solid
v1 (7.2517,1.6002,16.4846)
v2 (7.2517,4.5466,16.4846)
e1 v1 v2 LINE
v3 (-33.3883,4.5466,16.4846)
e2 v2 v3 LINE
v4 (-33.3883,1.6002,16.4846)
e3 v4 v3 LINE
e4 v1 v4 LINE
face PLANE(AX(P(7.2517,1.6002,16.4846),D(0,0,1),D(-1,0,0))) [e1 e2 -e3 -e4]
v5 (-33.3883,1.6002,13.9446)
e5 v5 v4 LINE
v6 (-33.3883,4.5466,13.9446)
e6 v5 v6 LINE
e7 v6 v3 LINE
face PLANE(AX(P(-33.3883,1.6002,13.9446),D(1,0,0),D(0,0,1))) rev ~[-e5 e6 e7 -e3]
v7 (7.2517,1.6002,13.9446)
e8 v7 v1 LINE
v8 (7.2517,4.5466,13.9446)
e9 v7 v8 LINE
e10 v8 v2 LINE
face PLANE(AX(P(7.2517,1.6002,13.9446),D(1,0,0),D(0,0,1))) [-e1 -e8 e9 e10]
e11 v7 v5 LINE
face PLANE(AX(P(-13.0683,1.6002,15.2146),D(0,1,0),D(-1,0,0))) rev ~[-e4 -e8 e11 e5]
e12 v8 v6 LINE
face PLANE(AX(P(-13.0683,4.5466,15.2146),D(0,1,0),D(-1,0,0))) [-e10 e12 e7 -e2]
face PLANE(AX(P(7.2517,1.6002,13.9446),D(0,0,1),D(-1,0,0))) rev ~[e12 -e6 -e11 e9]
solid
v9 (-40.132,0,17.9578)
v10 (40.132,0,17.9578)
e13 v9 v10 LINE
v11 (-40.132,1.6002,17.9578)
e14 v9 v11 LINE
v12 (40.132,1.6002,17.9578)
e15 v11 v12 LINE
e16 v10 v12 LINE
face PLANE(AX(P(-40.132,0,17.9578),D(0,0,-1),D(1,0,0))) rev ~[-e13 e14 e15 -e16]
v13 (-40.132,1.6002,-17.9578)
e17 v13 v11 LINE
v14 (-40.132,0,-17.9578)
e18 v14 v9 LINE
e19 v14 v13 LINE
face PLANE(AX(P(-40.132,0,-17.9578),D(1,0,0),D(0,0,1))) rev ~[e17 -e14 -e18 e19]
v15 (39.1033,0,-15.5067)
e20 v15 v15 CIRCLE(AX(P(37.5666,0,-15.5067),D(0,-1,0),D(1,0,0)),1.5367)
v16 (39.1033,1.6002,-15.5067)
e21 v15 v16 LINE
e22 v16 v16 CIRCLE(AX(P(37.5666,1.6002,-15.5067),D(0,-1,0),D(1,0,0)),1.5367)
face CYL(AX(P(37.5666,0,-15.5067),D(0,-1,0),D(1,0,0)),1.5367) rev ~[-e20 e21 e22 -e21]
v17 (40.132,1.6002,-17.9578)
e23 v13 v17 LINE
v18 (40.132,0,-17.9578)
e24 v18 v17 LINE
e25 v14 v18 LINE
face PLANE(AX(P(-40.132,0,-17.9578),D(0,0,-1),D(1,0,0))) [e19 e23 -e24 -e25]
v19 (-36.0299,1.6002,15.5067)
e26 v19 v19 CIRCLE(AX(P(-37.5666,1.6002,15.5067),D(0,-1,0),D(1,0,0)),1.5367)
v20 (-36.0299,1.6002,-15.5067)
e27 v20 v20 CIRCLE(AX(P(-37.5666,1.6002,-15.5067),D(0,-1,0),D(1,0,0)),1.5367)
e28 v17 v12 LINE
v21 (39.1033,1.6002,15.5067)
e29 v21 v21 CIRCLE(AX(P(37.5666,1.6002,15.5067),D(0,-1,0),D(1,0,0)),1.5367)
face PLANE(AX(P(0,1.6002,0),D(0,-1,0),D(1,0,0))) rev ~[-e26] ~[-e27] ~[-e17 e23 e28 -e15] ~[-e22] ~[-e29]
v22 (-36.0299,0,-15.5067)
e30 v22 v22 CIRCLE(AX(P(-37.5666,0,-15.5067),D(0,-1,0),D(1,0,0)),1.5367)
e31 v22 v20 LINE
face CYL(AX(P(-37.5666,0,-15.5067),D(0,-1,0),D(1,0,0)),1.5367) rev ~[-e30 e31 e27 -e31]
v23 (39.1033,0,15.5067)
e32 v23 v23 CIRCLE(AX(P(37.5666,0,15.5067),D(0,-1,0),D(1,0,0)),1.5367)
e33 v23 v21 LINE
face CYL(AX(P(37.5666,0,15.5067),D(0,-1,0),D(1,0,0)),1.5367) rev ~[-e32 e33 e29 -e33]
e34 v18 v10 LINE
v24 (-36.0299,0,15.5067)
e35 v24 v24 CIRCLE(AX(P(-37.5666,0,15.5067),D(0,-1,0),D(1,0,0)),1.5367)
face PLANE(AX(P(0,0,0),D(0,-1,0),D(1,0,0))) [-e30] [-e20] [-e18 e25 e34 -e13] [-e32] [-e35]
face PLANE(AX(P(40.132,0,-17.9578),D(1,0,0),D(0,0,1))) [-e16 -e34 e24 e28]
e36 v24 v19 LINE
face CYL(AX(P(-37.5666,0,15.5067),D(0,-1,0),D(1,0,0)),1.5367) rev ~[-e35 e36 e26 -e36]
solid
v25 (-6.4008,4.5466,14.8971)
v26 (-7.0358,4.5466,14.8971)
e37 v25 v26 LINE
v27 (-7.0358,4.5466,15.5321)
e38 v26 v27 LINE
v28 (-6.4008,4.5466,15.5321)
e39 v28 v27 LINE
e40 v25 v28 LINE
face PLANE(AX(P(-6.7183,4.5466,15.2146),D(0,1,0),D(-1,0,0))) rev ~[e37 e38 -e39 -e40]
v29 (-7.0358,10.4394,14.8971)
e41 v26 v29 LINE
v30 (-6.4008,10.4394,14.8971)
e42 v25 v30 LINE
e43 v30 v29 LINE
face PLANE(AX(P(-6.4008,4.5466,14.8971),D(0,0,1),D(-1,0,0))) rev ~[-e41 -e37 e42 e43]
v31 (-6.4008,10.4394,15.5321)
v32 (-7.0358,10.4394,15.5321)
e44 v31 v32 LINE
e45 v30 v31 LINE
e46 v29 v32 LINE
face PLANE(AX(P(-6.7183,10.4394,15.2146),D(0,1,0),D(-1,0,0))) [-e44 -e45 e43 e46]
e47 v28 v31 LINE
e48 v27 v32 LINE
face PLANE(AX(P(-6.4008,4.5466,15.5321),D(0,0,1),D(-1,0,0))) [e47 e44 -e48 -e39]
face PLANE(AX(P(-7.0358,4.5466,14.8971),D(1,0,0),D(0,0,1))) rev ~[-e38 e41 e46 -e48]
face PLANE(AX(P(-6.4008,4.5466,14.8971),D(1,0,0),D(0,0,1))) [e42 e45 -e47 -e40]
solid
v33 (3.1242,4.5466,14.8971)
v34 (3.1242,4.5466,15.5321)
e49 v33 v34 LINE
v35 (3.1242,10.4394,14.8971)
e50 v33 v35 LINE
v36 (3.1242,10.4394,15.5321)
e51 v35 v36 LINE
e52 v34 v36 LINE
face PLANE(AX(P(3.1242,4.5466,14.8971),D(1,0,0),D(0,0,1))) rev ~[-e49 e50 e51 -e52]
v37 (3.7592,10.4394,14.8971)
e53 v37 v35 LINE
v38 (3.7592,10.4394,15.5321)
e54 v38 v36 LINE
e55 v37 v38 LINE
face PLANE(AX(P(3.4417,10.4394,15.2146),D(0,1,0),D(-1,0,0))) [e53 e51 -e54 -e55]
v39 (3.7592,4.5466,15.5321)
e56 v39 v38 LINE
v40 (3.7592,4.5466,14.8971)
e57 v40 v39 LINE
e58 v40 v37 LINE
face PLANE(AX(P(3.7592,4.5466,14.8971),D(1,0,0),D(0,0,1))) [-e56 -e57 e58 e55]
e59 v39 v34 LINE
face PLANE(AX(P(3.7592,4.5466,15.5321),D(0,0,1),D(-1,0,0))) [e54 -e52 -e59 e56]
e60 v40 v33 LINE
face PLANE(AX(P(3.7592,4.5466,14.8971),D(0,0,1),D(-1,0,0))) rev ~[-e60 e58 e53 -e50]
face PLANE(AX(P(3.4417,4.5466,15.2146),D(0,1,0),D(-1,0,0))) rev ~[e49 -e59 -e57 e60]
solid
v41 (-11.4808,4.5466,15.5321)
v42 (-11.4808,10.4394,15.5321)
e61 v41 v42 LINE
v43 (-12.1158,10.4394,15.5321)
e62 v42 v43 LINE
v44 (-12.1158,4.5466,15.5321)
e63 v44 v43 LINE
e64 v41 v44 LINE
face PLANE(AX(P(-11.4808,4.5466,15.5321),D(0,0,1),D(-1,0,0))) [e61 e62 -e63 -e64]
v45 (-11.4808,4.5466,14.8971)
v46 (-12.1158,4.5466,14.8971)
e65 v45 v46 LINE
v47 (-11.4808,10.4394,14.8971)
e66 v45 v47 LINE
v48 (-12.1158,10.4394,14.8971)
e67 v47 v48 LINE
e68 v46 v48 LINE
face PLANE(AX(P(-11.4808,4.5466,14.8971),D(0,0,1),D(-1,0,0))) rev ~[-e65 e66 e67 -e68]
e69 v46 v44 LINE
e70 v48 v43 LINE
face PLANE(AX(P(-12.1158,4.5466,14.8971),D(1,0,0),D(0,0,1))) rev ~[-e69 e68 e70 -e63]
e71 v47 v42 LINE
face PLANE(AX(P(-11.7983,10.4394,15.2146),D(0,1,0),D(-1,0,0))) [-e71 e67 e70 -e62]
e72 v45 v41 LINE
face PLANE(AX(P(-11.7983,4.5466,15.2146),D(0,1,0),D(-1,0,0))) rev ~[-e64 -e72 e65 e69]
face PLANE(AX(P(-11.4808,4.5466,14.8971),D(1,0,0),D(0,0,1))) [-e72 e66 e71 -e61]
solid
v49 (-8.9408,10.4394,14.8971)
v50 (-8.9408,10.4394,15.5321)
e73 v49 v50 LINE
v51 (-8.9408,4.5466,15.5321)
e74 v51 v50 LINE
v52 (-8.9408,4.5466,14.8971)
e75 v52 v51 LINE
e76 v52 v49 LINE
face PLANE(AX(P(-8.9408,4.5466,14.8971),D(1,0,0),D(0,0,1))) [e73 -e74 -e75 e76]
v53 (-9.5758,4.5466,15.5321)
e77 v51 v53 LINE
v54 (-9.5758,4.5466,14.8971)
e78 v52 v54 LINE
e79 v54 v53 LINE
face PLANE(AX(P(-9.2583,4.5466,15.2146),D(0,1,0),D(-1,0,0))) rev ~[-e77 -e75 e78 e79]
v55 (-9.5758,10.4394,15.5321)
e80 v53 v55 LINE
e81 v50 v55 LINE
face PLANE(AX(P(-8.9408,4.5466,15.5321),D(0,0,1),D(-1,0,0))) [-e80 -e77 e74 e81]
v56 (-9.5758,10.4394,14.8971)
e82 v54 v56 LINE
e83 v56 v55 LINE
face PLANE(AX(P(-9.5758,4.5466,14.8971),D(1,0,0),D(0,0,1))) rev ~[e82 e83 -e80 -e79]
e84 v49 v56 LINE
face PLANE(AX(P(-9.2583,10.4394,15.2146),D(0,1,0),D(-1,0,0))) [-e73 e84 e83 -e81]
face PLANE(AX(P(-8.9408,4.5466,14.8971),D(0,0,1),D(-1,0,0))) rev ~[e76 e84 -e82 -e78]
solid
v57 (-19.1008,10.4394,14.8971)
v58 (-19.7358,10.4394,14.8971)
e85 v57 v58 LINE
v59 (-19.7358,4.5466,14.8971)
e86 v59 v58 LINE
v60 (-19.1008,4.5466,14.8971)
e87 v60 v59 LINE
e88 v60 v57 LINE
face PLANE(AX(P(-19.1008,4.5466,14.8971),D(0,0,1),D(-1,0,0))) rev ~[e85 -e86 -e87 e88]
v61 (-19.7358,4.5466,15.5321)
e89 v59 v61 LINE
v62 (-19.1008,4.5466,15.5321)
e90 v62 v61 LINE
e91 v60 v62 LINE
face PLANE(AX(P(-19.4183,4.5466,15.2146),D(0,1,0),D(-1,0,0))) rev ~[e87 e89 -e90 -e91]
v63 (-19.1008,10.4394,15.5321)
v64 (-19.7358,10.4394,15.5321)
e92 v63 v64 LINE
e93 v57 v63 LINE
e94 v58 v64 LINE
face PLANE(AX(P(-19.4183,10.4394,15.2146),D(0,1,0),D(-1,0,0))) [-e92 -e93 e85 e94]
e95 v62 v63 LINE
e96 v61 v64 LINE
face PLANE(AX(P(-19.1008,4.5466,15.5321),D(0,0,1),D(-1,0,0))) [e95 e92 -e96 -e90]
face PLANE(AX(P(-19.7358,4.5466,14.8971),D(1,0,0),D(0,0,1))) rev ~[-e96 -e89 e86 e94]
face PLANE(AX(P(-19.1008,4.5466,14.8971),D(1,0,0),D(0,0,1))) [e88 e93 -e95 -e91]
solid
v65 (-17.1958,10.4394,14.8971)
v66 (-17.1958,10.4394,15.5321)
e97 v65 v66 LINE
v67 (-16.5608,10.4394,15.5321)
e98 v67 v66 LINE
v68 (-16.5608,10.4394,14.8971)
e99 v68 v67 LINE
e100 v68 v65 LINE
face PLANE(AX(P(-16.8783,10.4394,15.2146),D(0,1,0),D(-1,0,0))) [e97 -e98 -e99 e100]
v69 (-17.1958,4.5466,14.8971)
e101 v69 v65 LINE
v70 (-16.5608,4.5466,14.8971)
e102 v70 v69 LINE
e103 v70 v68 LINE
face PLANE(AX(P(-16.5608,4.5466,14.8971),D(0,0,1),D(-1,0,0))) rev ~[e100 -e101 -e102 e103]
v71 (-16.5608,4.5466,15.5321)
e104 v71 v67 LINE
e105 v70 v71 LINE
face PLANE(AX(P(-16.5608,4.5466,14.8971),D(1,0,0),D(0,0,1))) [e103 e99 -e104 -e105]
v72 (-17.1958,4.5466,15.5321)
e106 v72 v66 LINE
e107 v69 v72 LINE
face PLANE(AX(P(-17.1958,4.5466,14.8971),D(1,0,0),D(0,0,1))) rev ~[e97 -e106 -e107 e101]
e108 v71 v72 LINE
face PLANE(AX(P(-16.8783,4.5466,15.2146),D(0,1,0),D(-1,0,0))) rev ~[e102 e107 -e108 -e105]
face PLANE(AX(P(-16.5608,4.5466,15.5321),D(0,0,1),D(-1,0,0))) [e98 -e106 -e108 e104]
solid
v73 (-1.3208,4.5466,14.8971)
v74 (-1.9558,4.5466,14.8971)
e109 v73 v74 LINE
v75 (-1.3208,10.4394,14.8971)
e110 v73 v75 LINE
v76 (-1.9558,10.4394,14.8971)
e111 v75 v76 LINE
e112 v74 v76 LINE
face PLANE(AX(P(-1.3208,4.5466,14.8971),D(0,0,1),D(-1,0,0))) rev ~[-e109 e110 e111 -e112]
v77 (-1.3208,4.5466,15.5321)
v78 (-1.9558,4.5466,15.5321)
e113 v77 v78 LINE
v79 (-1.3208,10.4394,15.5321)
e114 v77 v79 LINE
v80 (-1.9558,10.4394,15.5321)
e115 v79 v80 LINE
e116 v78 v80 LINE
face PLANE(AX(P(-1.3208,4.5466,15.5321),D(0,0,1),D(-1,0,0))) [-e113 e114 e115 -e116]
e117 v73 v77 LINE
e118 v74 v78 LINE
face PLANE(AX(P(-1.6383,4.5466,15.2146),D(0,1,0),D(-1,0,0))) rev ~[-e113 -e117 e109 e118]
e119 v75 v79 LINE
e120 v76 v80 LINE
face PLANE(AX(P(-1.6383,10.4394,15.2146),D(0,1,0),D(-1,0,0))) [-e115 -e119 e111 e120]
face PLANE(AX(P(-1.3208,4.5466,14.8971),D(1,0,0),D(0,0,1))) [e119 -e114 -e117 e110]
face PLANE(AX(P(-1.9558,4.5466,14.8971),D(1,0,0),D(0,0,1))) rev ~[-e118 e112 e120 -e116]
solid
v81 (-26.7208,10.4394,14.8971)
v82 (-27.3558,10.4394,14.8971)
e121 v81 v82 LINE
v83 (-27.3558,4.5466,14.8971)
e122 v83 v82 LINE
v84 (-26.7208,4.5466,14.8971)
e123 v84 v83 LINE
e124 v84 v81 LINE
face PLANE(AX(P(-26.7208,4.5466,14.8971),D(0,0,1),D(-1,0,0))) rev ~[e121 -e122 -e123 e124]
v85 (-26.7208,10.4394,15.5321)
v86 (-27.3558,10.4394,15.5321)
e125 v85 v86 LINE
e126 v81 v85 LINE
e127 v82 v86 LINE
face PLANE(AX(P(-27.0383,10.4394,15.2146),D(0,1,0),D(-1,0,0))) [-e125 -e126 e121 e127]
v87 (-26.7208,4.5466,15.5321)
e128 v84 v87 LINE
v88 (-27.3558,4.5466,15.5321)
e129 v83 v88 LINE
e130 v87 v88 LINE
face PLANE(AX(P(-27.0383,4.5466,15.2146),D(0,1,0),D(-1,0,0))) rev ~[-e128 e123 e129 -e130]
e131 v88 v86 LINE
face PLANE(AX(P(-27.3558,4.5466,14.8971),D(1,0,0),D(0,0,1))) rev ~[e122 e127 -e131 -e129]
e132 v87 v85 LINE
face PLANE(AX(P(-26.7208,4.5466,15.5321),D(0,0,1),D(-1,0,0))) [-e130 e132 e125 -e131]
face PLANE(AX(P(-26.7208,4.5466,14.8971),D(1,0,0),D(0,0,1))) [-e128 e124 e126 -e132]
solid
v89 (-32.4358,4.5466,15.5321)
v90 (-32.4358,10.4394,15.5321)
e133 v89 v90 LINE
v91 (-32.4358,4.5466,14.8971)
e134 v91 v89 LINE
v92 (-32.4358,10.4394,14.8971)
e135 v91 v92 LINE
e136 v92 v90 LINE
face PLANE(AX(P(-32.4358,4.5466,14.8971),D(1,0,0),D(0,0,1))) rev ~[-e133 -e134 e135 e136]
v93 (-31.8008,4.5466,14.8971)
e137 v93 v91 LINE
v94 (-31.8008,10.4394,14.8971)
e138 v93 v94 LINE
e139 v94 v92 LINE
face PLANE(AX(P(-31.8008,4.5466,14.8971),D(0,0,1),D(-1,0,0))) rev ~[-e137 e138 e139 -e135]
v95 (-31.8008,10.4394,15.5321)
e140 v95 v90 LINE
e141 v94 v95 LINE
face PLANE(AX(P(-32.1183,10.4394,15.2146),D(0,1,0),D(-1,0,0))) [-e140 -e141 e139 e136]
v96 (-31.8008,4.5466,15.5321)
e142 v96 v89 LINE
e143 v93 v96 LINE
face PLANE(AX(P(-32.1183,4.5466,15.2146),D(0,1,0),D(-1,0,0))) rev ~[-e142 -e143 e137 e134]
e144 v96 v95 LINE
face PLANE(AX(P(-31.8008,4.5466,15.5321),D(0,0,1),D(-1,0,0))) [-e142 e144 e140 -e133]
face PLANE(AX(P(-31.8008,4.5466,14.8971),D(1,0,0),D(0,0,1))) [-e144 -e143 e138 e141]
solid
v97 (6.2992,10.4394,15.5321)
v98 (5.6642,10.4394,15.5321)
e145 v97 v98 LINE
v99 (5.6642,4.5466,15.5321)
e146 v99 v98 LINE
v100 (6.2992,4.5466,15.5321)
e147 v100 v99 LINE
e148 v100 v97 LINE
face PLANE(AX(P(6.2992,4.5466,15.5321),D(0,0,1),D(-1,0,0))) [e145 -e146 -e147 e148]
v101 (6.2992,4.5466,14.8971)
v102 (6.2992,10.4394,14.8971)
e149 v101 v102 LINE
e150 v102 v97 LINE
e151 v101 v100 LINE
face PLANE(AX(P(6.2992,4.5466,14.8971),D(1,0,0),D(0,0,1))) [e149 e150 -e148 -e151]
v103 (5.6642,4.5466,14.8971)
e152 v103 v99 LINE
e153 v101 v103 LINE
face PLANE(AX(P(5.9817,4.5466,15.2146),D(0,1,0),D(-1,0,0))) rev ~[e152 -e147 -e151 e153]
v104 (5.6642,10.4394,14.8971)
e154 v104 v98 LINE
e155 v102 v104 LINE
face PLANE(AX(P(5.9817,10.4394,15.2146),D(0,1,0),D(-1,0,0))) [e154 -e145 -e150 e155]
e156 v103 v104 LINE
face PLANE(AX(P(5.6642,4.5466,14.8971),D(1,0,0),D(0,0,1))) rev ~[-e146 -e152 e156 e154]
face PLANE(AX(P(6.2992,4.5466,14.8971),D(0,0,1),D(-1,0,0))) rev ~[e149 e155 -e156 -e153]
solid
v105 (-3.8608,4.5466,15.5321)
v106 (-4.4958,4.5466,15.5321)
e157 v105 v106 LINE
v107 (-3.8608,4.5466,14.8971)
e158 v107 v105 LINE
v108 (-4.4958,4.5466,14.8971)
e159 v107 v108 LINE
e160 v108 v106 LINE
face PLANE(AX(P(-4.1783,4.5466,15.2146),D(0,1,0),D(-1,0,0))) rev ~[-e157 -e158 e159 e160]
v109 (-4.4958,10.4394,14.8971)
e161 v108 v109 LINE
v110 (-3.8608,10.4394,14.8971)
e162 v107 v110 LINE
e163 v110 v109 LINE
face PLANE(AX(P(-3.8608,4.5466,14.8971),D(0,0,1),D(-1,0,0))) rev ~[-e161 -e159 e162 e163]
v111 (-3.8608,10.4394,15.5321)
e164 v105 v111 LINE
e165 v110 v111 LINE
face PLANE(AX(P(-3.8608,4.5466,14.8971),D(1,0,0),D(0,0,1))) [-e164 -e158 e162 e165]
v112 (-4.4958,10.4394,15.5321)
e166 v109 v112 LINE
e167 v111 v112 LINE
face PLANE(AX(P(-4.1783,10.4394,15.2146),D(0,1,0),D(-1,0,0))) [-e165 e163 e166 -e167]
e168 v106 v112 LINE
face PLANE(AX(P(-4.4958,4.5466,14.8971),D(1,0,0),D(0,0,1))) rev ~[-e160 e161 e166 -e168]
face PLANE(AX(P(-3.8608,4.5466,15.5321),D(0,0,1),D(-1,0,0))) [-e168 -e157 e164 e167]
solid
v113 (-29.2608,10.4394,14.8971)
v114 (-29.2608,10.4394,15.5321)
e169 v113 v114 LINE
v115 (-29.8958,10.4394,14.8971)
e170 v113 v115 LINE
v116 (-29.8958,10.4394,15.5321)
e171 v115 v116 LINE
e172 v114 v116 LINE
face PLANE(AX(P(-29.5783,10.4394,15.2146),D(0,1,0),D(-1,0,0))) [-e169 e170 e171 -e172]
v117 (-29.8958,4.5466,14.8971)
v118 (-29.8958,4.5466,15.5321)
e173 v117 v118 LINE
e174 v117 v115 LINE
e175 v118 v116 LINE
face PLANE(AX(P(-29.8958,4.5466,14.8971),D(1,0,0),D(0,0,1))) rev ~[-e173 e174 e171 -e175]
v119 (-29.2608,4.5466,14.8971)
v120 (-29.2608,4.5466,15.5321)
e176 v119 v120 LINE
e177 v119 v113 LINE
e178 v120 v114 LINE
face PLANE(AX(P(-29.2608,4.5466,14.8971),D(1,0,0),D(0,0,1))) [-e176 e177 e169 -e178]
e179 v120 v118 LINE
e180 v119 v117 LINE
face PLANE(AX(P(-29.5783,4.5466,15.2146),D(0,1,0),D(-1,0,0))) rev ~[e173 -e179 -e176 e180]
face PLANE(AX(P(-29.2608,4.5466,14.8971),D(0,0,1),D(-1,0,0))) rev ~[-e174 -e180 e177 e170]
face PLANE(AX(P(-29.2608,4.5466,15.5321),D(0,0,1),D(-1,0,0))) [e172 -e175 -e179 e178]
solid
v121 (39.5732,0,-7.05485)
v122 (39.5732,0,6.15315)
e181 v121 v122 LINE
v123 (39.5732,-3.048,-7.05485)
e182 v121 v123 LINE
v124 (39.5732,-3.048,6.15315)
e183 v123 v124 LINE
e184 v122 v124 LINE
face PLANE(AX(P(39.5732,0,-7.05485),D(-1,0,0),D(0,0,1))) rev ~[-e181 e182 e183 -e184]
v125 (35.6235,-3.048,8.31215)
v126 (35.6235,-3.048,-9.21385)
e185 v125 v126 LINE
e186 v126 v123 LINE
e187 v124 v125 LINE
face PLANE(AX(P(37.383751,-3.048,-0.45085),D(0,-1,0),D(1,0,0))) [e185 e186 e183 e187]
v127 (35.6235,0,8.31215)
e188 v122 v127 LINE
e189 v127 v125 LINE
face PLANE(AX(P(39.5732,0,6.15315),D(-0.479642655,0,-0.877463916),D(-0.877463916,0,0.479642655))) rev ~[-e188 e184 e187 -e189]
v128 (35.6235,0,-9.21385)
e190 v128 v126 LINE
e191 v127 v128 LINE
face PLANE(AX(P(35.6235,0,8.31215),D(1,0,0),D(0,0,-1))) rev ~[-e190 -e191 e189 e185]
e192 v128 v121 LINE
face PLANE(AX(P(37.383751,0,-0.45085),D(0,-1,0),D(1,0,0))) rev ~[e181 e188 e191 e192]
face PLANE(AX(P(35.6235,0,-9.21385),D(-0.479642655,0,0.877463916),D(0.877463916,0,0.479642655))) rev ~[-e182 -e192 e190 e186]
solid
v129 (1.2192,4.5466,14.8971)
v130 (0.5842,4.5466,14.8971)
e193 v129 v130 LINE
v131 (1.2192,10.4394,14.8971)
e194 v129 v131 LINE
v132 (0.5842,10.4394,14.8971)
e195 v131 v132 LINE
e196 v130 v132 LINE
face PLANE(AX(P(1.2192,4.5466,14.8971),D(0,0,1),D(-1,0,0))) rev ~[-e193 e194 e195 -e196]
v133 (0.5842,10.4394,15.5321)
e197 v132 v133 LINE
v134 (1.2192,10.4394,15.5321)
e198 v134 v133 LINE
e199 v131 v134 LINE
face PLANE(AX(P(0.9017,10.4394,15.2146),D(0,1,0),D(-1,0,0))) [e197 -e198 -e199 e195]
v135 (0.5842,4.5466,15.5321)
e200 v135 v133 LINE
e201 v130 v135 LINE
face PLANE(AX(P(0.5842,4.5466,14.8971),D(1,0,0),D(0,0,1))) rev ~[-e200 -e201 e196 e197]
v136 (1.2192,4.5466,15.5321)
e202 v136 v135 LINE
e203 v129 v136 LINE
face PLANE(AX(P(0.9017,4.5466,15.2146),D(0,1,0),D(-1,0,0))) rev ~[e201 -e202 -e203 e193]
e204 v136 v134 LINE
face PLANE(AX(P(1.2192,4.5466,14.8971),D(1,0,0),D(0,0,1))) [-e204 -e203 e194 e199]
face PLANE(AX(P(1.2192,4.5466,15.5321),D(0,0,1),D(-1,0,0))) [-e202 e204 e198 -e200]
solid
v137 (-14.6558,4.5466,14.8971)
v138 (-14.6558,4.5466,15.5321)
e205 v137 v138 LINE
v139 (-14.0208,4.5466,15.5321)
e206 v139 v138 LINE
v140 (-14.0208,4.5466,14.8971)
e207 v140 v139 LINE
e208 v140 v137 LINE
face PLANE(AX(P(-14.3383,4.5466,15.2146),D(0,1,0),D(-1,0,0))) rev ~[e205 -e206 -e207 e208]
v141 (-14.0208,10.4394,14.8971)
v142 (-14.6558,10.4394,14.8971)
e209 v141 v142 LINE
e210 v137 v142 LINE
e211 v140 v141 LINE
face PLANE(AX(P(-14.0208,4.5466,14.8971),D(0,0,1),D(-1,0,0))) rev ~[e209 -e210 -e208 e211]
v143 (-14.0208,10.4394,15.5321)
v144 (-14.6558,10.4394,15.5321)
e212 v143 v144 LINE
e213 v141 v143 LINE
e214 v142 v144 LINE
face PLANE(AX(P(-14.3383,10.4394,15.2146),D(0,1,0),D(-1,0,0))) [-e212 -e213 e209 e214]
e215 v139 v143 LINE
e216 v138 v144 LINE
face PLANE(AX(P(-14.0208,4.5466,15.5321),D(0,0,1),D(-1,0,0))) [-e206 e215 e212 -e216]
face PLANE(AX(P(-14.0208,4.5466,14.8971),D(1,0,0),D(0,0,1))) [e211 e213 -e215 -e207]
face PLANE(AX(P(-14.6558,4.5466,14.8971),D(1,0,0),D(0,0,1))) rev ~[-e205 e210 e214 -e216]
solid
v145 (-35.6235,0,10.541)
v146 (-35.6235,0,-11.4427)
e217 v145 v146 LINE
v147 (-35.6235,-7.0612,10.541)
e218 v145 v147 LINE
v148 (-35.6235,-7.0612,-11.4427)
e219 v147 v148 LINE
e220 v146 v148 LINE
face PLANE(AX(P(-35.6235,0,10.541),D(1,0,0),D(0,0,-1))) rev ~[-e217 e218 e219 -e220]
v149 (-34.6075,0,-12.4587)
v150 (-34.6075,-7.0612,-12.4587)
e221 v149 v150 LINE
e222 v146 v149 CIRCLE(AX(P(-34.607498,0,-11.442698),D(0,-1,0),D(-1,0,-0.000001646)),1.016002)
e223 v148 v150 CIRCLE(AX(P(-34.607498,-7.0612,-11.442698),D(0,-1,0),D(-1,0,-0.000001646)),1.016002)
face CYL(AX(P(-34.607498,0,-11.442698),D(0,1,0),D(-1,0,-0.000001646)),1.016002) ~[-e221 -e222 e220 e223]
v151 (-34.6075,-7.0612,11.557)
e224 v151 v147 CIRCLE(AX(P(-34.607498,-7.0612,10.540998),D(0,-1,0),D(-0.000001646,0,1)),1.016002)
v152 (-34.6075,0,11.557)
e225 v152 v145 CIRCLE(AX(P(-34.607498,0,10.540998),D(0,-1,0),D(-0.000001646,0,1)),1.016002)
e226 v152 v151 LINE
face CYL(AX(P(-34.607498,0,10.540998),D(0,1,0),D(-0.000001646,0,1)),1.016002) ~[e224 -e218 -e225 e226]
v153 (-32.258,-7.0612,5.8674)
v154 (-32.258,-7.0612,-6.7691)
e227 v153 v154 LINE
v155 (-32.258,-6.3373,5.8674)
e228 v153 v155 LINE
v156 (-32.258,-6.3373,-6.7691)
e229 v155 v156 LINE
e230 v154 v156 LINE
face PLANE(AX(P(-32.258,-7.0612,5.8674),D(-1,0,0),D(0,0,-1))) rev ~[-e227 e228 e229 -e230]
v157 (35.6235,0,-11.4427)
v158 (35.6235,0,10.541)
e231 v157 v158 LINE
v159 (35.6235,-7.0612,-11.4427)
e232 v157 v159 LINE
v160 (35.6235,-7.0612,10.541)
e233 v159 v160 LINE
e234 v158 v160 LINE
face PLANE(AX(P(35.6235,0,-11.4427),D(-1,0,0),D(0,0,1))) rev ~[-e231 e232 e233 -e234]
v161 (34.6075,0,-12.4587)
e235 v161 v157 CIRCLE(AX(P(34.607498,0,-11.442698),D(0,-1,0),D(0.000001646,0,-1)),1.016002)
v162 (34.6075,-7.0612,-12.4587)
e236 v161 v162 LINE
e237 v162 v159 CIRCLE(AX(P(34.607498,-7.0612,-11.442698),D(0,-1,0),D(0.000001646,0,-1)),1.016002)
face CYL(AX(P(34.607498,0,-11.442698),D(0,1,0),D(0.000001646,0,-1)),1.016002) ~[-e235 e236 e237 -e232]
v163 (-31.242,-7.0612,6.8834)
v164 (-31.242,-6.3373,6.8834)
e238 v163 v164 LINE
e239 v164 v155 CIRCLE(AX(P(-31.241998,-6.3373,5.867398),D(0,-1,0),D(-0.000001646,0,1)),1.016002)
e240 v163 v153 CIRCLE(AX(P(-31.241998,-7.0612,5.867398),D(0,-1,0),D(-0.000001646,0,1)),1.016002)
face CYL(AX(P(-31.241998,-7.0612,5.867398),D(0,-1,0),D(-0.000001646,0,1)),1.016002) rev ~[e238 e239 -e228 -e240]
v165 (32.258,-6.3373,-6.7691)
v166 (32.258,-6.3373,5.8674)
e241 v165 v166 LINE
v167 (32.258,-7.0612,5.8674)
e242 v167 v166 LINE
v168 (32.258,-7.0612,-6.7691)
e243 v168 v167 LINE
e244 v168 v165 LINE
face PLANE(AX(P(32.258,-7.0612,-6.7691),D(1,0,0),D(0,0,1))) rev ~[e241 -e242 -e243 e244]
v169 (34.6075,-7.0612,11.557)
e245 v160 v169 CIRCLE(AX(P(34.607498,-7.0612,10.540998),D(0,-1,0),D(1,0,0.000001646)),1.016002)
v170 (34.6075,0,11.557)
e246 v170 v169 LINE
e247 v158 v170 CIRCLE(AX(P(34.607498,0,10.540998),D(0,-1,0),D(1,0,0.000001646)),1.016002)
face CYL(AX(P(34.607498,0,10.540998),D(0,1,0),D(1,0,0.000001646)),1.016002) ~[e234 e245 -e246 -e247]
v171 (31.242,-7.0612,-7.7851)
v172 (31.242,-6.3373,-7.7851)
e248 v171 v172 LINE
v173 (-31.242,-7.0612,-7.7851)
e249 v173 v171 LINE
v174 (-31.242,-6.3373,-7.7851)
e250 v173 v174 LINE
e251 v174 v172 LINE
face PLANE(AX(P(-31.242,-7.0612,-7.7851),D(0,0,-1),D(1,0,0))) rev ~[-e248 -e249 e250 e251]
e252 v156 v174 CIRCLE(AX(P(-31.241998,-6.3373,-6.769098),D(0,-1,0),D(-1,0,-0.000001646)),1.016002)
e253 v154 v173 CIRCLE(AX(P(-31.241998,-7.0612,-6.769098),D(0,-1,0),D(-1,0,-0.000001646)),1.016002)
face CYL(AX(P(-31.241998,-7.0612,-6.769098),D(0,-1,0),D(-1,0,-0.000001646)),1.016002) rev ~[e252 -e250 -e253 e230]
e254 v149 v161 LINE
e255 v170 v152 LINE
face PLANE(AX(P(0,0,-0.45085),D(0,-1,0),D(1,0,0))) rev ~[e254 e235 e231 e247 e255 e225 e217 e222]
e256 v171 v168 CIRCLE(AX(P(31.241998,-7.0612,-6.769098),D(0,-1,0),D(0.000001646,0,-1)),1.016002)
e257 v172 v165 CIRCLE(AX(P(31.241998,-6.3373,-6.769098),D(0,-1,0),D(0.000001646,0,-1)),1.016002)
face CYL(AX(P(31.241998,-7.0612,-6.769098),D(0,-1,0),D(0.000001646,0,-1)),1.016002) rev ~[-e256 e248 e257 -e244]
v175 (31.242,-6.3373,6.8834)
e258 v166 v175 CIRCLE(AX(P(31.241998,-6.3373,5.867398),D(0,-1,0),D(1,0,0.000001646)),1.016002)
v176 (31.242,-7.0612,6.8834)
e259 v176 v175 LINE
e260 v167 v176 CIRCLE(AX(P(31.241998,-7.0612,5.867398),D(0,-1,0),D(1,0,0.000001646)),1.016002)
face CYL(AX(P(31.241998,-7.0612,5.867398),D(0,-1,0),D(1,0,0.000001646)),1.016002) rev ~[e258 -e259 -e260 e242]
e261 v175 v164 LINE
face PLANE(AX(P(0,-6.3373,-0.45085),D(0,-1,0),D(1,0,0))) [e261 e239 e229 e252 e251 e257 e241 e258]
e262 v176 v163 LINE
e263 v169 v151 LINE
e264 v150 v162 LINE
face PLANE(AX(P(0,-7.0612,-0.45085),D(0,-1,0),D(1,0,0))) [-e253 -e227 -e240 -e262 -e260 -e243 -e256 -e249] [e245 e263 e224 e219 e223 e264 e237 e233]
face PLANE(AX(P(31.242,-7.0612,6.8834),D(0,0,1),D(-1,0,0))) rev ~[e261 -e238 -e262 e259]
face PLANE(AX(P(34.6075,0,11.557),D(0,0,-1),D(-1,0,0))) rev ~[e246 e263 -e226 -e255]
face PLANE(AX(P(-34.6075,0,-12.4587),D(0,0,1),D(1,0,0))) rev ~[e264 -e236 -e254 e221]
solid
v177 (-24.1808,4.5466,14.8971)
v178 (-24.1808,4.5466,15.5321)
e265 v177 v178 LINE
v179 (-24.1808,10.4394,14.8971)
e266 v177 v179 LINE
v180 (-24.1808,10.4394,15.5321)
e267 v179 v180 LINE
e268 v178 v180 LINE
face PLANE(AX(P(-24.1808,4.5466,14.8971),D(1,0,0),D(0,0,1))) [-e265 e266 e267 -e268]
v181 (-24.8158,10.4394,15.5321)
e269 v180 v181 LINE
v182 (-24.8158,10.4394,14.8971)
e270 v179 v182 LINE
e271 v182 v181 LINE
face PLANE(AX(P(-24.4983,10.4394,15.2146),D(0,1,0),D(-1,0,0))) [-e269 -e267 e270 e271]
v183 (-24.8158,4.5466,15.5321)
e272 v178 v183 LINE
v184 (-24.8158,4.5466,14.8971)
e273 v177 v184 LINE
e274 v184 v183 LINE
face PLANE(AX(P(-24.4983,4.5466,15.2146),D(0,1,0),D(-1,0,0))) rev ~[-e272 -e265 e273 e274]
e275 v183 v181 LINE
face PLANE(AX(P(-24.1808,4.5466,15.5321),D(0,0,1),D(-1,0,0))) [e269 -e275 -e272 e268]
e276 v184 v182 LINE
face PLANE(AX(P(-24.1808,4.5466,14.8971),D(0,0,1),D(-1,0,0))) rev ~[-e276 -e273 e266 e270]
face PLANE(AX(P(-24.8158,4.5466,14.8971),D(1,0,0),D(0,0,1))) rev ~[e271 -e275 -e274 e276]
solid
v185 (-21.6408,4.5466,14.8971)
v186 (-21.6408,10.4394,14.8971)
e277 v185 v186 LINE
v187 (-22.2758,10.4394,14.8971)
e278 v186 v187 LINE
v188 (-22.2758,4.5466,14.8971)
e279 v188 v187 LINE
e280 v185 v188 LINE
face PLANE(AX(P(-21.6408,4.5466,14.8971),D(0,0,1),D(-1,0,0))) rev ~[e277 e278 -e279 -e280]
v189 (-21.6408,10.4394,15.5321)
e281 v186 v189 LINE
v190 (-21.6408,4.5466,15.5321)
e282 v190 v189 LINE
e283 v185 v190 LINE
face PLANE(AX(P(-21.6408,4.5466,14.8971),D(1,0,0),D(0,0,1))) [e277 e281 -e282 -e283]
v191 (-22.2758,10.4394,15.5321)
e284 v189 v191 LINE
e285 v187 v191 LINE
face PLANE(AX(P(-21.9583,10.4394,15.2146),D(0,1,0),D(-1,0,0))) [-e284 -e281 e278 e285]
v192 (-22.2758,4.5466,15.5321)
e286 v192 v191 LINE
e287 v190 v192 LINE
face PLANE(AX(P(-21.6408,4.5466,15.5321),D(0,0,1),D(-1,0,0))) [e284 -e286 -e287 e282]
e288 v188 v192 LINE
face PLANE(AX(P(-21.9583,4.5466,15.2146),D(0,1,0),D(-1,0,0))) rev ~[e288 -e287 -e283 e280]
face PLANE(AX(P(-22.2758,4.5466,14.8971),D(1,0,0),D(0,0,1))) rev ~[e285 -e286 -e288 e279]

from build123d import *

# Parameters (mm, degrees)
F0_W      = 80.264
F0_H      = 35.9156
F0_R      = 1.5367
F1_DEPTH  = 1.6002
F3_DEPTH  = 7.0612
F5_DEPTH  = 0.7239
F7_DEPTH  = 3.048
F8_W      = 40.64
F8_H      = 2.54
F9_DEPTH  = 2.9464
F10_W     = 0.635
F10_H     = 0.635
F11_DEPTH = 5.8928


with BuildPart() as f1:
    # F0 (on Front) → F1 (new body)
    with BuildSketch(Plane.XZ):
        Rectangle(F0_W, F0_H)
        with Locations((-37.5666, -15.5067)):
            Circle(F0_R, mode=Mode.SUBTRACT)
        with Locations((37.5666, -15.5067)):
            Circle(F0_R, mode=Mode.SUBTRACT)
        with Locations((-37.5666, 15.5067)):
            Circle(F0_R, mode=Mode.SUBTRACT)
        with Locations((37.5666, 15.5067)):
            Circle(F0_R, mode=Mode.SUBTRACT)
    extrude(amount=-F1_DEPTH)


with BuildPart() as f3:
    # F2 (on face) → F3 (new body)
    with BuildSketch(Plane.XZ):
        with BuildLine():
            ThreePointArc((-35.6235, -11.4427), (-35.32592, -12.16112), (-34.6075, -12.4587))
            Line((-34.6075, -12.4587), (34.6075, -12.4587))
            ThreePointArc((34.6075, -12.4587), (35.32592, -12.16112), (35.6235, -11.4427))
            Line((35.6235, -11.4427), (35.6235, 10.541))
            ThreePointArc((35.6235, 10.541), (35.32592, 11.25942), (34.6075, 11.557))
            Line((34.6075, 11.557), (-34.6075, 11.557))
            ThreePointArc((-34.6075, 11.557), (-35.32592, 11.25942), (-35.6235, 10.541))
            Line((-35.6235, 10.541), (-35.6235, -11.4427))
        make_face()
    extrude(amount=F3_DEPTH)

    # F4 (on face) → F5 (cut)
    with BuildSketch(Plane.XZ.offset(7.0612)):
        with BuildLine():
            ThreePointArc((32.258, 5.8674), (31.96042, 6.58582), (31.242, 6.8834))
            Line((31.242, 6.8834), (-31.242, 6.8834))
            ThreePointArc((-31.242, 6.8834), (-31.96042, 6.58582), (-32.258, 5.8674))
            Line((-32.258, 5.8674), (-32.258, -6.7691))
            ThreePointArc((-32.258, -6.7691), (-31.96042, -7.48752), (-31.242, -7.7851))
            Line((-31.242, -7.7851), (31.242, -7.7851))
            ThreePointArc((31.242, -7.7851), (31.96042, -7.48752), (32.258, -6.7691))
            Line((32.258, -6.7691), (32.258, 5.8674))
        make_face()
    extrude(amount=-F5_DEPTH, mode=Mode.SUBTRACT)


with BuildPart() as f7:
    # F6 (on face) → F7 (new body)
    with BuildSketch(Plane.XZ):
        Polygon((39.5732, 6.15315), (35.6235, 8.31215), (35.6235, -9.21385), (39.5732, -7.05485), align=None)
    extrude(amount=F7_DEPTH)


with BuildPart() as f9:
    # F8 (on face) → F9 (new body)
    with BuildSketch(Plane(origin=(0, 1.6002, 0), x_dir=(-1, 0, 0), z_dir=(0, 1, 0))):
        with Locations((13.0683, 15.2146)):
            Rectangle(F8_W, F8_H)
    extrude(amount=F9_DEPTH)


with BuildPart() as f11:
    # F10 (on face) → F11 (new body)
    with BuildSketch(Plane(origin=(0, 4.5466, 0), x_dir=(-1, 0, 0), z_dir=(0, 1, 0))):
        with Locations((-5.9817, 15.2146)):
            Rectangle(F10_W, F10_H)
        with Locations((-3.4417, 15.2146)):
            Rectangle(F10_W, F10_H)
        with Locations((-0.9017, 15.2146)):
            Rectangle(F10_W, F10_H)
        with Locations((1.6383, 15.2146)):
            Rectangle(F10_W, F10_H)
        with Locations((4.1783, 15.2146)):
            Rectangle(F10_W, F10_H)
        with Locations((6.7183, 15.2146)):
            Rectangle(F10_W, F10_H)
        with Locations((9.2583, 15.2146)):
            Rectangle(F10_W, F10_H)
        with Locations((11.7983, 15.2146)):
            Rectangle(F10_W, F10_H)
        with Locations((14.3383, 15.2146)):
            Rectangle(F10_W, F10_H)
        with Locations((16.8783, 15.2146)):
            Rectangle(F10_W, F10_H)
        with Locations((19.4183, 15.2146)):
            Rectangle(F10_W, F10_H)
        with Locations((21.9583, 15.2146)):
            Rectangle(F10_W, F10_H)
        with Locations((24.4983, 15.2146)):
            Rectangle(F10_W, F10_H)
        with Locations((27.0383, 15.2146)):
            Rectangle(F10_W, F10_H)
        with Locations((29.5783, 15.2146)):
            Rectangle(F10_W, F10_H)
        with Locations((32.1183, 15.2146)):
            Rectangle(F10_W, F10_H)
    extrude(amount=F11_DEPTH)


solid = Compound([f1.part, f3.part, f7.part, f9.part, f11.part])
